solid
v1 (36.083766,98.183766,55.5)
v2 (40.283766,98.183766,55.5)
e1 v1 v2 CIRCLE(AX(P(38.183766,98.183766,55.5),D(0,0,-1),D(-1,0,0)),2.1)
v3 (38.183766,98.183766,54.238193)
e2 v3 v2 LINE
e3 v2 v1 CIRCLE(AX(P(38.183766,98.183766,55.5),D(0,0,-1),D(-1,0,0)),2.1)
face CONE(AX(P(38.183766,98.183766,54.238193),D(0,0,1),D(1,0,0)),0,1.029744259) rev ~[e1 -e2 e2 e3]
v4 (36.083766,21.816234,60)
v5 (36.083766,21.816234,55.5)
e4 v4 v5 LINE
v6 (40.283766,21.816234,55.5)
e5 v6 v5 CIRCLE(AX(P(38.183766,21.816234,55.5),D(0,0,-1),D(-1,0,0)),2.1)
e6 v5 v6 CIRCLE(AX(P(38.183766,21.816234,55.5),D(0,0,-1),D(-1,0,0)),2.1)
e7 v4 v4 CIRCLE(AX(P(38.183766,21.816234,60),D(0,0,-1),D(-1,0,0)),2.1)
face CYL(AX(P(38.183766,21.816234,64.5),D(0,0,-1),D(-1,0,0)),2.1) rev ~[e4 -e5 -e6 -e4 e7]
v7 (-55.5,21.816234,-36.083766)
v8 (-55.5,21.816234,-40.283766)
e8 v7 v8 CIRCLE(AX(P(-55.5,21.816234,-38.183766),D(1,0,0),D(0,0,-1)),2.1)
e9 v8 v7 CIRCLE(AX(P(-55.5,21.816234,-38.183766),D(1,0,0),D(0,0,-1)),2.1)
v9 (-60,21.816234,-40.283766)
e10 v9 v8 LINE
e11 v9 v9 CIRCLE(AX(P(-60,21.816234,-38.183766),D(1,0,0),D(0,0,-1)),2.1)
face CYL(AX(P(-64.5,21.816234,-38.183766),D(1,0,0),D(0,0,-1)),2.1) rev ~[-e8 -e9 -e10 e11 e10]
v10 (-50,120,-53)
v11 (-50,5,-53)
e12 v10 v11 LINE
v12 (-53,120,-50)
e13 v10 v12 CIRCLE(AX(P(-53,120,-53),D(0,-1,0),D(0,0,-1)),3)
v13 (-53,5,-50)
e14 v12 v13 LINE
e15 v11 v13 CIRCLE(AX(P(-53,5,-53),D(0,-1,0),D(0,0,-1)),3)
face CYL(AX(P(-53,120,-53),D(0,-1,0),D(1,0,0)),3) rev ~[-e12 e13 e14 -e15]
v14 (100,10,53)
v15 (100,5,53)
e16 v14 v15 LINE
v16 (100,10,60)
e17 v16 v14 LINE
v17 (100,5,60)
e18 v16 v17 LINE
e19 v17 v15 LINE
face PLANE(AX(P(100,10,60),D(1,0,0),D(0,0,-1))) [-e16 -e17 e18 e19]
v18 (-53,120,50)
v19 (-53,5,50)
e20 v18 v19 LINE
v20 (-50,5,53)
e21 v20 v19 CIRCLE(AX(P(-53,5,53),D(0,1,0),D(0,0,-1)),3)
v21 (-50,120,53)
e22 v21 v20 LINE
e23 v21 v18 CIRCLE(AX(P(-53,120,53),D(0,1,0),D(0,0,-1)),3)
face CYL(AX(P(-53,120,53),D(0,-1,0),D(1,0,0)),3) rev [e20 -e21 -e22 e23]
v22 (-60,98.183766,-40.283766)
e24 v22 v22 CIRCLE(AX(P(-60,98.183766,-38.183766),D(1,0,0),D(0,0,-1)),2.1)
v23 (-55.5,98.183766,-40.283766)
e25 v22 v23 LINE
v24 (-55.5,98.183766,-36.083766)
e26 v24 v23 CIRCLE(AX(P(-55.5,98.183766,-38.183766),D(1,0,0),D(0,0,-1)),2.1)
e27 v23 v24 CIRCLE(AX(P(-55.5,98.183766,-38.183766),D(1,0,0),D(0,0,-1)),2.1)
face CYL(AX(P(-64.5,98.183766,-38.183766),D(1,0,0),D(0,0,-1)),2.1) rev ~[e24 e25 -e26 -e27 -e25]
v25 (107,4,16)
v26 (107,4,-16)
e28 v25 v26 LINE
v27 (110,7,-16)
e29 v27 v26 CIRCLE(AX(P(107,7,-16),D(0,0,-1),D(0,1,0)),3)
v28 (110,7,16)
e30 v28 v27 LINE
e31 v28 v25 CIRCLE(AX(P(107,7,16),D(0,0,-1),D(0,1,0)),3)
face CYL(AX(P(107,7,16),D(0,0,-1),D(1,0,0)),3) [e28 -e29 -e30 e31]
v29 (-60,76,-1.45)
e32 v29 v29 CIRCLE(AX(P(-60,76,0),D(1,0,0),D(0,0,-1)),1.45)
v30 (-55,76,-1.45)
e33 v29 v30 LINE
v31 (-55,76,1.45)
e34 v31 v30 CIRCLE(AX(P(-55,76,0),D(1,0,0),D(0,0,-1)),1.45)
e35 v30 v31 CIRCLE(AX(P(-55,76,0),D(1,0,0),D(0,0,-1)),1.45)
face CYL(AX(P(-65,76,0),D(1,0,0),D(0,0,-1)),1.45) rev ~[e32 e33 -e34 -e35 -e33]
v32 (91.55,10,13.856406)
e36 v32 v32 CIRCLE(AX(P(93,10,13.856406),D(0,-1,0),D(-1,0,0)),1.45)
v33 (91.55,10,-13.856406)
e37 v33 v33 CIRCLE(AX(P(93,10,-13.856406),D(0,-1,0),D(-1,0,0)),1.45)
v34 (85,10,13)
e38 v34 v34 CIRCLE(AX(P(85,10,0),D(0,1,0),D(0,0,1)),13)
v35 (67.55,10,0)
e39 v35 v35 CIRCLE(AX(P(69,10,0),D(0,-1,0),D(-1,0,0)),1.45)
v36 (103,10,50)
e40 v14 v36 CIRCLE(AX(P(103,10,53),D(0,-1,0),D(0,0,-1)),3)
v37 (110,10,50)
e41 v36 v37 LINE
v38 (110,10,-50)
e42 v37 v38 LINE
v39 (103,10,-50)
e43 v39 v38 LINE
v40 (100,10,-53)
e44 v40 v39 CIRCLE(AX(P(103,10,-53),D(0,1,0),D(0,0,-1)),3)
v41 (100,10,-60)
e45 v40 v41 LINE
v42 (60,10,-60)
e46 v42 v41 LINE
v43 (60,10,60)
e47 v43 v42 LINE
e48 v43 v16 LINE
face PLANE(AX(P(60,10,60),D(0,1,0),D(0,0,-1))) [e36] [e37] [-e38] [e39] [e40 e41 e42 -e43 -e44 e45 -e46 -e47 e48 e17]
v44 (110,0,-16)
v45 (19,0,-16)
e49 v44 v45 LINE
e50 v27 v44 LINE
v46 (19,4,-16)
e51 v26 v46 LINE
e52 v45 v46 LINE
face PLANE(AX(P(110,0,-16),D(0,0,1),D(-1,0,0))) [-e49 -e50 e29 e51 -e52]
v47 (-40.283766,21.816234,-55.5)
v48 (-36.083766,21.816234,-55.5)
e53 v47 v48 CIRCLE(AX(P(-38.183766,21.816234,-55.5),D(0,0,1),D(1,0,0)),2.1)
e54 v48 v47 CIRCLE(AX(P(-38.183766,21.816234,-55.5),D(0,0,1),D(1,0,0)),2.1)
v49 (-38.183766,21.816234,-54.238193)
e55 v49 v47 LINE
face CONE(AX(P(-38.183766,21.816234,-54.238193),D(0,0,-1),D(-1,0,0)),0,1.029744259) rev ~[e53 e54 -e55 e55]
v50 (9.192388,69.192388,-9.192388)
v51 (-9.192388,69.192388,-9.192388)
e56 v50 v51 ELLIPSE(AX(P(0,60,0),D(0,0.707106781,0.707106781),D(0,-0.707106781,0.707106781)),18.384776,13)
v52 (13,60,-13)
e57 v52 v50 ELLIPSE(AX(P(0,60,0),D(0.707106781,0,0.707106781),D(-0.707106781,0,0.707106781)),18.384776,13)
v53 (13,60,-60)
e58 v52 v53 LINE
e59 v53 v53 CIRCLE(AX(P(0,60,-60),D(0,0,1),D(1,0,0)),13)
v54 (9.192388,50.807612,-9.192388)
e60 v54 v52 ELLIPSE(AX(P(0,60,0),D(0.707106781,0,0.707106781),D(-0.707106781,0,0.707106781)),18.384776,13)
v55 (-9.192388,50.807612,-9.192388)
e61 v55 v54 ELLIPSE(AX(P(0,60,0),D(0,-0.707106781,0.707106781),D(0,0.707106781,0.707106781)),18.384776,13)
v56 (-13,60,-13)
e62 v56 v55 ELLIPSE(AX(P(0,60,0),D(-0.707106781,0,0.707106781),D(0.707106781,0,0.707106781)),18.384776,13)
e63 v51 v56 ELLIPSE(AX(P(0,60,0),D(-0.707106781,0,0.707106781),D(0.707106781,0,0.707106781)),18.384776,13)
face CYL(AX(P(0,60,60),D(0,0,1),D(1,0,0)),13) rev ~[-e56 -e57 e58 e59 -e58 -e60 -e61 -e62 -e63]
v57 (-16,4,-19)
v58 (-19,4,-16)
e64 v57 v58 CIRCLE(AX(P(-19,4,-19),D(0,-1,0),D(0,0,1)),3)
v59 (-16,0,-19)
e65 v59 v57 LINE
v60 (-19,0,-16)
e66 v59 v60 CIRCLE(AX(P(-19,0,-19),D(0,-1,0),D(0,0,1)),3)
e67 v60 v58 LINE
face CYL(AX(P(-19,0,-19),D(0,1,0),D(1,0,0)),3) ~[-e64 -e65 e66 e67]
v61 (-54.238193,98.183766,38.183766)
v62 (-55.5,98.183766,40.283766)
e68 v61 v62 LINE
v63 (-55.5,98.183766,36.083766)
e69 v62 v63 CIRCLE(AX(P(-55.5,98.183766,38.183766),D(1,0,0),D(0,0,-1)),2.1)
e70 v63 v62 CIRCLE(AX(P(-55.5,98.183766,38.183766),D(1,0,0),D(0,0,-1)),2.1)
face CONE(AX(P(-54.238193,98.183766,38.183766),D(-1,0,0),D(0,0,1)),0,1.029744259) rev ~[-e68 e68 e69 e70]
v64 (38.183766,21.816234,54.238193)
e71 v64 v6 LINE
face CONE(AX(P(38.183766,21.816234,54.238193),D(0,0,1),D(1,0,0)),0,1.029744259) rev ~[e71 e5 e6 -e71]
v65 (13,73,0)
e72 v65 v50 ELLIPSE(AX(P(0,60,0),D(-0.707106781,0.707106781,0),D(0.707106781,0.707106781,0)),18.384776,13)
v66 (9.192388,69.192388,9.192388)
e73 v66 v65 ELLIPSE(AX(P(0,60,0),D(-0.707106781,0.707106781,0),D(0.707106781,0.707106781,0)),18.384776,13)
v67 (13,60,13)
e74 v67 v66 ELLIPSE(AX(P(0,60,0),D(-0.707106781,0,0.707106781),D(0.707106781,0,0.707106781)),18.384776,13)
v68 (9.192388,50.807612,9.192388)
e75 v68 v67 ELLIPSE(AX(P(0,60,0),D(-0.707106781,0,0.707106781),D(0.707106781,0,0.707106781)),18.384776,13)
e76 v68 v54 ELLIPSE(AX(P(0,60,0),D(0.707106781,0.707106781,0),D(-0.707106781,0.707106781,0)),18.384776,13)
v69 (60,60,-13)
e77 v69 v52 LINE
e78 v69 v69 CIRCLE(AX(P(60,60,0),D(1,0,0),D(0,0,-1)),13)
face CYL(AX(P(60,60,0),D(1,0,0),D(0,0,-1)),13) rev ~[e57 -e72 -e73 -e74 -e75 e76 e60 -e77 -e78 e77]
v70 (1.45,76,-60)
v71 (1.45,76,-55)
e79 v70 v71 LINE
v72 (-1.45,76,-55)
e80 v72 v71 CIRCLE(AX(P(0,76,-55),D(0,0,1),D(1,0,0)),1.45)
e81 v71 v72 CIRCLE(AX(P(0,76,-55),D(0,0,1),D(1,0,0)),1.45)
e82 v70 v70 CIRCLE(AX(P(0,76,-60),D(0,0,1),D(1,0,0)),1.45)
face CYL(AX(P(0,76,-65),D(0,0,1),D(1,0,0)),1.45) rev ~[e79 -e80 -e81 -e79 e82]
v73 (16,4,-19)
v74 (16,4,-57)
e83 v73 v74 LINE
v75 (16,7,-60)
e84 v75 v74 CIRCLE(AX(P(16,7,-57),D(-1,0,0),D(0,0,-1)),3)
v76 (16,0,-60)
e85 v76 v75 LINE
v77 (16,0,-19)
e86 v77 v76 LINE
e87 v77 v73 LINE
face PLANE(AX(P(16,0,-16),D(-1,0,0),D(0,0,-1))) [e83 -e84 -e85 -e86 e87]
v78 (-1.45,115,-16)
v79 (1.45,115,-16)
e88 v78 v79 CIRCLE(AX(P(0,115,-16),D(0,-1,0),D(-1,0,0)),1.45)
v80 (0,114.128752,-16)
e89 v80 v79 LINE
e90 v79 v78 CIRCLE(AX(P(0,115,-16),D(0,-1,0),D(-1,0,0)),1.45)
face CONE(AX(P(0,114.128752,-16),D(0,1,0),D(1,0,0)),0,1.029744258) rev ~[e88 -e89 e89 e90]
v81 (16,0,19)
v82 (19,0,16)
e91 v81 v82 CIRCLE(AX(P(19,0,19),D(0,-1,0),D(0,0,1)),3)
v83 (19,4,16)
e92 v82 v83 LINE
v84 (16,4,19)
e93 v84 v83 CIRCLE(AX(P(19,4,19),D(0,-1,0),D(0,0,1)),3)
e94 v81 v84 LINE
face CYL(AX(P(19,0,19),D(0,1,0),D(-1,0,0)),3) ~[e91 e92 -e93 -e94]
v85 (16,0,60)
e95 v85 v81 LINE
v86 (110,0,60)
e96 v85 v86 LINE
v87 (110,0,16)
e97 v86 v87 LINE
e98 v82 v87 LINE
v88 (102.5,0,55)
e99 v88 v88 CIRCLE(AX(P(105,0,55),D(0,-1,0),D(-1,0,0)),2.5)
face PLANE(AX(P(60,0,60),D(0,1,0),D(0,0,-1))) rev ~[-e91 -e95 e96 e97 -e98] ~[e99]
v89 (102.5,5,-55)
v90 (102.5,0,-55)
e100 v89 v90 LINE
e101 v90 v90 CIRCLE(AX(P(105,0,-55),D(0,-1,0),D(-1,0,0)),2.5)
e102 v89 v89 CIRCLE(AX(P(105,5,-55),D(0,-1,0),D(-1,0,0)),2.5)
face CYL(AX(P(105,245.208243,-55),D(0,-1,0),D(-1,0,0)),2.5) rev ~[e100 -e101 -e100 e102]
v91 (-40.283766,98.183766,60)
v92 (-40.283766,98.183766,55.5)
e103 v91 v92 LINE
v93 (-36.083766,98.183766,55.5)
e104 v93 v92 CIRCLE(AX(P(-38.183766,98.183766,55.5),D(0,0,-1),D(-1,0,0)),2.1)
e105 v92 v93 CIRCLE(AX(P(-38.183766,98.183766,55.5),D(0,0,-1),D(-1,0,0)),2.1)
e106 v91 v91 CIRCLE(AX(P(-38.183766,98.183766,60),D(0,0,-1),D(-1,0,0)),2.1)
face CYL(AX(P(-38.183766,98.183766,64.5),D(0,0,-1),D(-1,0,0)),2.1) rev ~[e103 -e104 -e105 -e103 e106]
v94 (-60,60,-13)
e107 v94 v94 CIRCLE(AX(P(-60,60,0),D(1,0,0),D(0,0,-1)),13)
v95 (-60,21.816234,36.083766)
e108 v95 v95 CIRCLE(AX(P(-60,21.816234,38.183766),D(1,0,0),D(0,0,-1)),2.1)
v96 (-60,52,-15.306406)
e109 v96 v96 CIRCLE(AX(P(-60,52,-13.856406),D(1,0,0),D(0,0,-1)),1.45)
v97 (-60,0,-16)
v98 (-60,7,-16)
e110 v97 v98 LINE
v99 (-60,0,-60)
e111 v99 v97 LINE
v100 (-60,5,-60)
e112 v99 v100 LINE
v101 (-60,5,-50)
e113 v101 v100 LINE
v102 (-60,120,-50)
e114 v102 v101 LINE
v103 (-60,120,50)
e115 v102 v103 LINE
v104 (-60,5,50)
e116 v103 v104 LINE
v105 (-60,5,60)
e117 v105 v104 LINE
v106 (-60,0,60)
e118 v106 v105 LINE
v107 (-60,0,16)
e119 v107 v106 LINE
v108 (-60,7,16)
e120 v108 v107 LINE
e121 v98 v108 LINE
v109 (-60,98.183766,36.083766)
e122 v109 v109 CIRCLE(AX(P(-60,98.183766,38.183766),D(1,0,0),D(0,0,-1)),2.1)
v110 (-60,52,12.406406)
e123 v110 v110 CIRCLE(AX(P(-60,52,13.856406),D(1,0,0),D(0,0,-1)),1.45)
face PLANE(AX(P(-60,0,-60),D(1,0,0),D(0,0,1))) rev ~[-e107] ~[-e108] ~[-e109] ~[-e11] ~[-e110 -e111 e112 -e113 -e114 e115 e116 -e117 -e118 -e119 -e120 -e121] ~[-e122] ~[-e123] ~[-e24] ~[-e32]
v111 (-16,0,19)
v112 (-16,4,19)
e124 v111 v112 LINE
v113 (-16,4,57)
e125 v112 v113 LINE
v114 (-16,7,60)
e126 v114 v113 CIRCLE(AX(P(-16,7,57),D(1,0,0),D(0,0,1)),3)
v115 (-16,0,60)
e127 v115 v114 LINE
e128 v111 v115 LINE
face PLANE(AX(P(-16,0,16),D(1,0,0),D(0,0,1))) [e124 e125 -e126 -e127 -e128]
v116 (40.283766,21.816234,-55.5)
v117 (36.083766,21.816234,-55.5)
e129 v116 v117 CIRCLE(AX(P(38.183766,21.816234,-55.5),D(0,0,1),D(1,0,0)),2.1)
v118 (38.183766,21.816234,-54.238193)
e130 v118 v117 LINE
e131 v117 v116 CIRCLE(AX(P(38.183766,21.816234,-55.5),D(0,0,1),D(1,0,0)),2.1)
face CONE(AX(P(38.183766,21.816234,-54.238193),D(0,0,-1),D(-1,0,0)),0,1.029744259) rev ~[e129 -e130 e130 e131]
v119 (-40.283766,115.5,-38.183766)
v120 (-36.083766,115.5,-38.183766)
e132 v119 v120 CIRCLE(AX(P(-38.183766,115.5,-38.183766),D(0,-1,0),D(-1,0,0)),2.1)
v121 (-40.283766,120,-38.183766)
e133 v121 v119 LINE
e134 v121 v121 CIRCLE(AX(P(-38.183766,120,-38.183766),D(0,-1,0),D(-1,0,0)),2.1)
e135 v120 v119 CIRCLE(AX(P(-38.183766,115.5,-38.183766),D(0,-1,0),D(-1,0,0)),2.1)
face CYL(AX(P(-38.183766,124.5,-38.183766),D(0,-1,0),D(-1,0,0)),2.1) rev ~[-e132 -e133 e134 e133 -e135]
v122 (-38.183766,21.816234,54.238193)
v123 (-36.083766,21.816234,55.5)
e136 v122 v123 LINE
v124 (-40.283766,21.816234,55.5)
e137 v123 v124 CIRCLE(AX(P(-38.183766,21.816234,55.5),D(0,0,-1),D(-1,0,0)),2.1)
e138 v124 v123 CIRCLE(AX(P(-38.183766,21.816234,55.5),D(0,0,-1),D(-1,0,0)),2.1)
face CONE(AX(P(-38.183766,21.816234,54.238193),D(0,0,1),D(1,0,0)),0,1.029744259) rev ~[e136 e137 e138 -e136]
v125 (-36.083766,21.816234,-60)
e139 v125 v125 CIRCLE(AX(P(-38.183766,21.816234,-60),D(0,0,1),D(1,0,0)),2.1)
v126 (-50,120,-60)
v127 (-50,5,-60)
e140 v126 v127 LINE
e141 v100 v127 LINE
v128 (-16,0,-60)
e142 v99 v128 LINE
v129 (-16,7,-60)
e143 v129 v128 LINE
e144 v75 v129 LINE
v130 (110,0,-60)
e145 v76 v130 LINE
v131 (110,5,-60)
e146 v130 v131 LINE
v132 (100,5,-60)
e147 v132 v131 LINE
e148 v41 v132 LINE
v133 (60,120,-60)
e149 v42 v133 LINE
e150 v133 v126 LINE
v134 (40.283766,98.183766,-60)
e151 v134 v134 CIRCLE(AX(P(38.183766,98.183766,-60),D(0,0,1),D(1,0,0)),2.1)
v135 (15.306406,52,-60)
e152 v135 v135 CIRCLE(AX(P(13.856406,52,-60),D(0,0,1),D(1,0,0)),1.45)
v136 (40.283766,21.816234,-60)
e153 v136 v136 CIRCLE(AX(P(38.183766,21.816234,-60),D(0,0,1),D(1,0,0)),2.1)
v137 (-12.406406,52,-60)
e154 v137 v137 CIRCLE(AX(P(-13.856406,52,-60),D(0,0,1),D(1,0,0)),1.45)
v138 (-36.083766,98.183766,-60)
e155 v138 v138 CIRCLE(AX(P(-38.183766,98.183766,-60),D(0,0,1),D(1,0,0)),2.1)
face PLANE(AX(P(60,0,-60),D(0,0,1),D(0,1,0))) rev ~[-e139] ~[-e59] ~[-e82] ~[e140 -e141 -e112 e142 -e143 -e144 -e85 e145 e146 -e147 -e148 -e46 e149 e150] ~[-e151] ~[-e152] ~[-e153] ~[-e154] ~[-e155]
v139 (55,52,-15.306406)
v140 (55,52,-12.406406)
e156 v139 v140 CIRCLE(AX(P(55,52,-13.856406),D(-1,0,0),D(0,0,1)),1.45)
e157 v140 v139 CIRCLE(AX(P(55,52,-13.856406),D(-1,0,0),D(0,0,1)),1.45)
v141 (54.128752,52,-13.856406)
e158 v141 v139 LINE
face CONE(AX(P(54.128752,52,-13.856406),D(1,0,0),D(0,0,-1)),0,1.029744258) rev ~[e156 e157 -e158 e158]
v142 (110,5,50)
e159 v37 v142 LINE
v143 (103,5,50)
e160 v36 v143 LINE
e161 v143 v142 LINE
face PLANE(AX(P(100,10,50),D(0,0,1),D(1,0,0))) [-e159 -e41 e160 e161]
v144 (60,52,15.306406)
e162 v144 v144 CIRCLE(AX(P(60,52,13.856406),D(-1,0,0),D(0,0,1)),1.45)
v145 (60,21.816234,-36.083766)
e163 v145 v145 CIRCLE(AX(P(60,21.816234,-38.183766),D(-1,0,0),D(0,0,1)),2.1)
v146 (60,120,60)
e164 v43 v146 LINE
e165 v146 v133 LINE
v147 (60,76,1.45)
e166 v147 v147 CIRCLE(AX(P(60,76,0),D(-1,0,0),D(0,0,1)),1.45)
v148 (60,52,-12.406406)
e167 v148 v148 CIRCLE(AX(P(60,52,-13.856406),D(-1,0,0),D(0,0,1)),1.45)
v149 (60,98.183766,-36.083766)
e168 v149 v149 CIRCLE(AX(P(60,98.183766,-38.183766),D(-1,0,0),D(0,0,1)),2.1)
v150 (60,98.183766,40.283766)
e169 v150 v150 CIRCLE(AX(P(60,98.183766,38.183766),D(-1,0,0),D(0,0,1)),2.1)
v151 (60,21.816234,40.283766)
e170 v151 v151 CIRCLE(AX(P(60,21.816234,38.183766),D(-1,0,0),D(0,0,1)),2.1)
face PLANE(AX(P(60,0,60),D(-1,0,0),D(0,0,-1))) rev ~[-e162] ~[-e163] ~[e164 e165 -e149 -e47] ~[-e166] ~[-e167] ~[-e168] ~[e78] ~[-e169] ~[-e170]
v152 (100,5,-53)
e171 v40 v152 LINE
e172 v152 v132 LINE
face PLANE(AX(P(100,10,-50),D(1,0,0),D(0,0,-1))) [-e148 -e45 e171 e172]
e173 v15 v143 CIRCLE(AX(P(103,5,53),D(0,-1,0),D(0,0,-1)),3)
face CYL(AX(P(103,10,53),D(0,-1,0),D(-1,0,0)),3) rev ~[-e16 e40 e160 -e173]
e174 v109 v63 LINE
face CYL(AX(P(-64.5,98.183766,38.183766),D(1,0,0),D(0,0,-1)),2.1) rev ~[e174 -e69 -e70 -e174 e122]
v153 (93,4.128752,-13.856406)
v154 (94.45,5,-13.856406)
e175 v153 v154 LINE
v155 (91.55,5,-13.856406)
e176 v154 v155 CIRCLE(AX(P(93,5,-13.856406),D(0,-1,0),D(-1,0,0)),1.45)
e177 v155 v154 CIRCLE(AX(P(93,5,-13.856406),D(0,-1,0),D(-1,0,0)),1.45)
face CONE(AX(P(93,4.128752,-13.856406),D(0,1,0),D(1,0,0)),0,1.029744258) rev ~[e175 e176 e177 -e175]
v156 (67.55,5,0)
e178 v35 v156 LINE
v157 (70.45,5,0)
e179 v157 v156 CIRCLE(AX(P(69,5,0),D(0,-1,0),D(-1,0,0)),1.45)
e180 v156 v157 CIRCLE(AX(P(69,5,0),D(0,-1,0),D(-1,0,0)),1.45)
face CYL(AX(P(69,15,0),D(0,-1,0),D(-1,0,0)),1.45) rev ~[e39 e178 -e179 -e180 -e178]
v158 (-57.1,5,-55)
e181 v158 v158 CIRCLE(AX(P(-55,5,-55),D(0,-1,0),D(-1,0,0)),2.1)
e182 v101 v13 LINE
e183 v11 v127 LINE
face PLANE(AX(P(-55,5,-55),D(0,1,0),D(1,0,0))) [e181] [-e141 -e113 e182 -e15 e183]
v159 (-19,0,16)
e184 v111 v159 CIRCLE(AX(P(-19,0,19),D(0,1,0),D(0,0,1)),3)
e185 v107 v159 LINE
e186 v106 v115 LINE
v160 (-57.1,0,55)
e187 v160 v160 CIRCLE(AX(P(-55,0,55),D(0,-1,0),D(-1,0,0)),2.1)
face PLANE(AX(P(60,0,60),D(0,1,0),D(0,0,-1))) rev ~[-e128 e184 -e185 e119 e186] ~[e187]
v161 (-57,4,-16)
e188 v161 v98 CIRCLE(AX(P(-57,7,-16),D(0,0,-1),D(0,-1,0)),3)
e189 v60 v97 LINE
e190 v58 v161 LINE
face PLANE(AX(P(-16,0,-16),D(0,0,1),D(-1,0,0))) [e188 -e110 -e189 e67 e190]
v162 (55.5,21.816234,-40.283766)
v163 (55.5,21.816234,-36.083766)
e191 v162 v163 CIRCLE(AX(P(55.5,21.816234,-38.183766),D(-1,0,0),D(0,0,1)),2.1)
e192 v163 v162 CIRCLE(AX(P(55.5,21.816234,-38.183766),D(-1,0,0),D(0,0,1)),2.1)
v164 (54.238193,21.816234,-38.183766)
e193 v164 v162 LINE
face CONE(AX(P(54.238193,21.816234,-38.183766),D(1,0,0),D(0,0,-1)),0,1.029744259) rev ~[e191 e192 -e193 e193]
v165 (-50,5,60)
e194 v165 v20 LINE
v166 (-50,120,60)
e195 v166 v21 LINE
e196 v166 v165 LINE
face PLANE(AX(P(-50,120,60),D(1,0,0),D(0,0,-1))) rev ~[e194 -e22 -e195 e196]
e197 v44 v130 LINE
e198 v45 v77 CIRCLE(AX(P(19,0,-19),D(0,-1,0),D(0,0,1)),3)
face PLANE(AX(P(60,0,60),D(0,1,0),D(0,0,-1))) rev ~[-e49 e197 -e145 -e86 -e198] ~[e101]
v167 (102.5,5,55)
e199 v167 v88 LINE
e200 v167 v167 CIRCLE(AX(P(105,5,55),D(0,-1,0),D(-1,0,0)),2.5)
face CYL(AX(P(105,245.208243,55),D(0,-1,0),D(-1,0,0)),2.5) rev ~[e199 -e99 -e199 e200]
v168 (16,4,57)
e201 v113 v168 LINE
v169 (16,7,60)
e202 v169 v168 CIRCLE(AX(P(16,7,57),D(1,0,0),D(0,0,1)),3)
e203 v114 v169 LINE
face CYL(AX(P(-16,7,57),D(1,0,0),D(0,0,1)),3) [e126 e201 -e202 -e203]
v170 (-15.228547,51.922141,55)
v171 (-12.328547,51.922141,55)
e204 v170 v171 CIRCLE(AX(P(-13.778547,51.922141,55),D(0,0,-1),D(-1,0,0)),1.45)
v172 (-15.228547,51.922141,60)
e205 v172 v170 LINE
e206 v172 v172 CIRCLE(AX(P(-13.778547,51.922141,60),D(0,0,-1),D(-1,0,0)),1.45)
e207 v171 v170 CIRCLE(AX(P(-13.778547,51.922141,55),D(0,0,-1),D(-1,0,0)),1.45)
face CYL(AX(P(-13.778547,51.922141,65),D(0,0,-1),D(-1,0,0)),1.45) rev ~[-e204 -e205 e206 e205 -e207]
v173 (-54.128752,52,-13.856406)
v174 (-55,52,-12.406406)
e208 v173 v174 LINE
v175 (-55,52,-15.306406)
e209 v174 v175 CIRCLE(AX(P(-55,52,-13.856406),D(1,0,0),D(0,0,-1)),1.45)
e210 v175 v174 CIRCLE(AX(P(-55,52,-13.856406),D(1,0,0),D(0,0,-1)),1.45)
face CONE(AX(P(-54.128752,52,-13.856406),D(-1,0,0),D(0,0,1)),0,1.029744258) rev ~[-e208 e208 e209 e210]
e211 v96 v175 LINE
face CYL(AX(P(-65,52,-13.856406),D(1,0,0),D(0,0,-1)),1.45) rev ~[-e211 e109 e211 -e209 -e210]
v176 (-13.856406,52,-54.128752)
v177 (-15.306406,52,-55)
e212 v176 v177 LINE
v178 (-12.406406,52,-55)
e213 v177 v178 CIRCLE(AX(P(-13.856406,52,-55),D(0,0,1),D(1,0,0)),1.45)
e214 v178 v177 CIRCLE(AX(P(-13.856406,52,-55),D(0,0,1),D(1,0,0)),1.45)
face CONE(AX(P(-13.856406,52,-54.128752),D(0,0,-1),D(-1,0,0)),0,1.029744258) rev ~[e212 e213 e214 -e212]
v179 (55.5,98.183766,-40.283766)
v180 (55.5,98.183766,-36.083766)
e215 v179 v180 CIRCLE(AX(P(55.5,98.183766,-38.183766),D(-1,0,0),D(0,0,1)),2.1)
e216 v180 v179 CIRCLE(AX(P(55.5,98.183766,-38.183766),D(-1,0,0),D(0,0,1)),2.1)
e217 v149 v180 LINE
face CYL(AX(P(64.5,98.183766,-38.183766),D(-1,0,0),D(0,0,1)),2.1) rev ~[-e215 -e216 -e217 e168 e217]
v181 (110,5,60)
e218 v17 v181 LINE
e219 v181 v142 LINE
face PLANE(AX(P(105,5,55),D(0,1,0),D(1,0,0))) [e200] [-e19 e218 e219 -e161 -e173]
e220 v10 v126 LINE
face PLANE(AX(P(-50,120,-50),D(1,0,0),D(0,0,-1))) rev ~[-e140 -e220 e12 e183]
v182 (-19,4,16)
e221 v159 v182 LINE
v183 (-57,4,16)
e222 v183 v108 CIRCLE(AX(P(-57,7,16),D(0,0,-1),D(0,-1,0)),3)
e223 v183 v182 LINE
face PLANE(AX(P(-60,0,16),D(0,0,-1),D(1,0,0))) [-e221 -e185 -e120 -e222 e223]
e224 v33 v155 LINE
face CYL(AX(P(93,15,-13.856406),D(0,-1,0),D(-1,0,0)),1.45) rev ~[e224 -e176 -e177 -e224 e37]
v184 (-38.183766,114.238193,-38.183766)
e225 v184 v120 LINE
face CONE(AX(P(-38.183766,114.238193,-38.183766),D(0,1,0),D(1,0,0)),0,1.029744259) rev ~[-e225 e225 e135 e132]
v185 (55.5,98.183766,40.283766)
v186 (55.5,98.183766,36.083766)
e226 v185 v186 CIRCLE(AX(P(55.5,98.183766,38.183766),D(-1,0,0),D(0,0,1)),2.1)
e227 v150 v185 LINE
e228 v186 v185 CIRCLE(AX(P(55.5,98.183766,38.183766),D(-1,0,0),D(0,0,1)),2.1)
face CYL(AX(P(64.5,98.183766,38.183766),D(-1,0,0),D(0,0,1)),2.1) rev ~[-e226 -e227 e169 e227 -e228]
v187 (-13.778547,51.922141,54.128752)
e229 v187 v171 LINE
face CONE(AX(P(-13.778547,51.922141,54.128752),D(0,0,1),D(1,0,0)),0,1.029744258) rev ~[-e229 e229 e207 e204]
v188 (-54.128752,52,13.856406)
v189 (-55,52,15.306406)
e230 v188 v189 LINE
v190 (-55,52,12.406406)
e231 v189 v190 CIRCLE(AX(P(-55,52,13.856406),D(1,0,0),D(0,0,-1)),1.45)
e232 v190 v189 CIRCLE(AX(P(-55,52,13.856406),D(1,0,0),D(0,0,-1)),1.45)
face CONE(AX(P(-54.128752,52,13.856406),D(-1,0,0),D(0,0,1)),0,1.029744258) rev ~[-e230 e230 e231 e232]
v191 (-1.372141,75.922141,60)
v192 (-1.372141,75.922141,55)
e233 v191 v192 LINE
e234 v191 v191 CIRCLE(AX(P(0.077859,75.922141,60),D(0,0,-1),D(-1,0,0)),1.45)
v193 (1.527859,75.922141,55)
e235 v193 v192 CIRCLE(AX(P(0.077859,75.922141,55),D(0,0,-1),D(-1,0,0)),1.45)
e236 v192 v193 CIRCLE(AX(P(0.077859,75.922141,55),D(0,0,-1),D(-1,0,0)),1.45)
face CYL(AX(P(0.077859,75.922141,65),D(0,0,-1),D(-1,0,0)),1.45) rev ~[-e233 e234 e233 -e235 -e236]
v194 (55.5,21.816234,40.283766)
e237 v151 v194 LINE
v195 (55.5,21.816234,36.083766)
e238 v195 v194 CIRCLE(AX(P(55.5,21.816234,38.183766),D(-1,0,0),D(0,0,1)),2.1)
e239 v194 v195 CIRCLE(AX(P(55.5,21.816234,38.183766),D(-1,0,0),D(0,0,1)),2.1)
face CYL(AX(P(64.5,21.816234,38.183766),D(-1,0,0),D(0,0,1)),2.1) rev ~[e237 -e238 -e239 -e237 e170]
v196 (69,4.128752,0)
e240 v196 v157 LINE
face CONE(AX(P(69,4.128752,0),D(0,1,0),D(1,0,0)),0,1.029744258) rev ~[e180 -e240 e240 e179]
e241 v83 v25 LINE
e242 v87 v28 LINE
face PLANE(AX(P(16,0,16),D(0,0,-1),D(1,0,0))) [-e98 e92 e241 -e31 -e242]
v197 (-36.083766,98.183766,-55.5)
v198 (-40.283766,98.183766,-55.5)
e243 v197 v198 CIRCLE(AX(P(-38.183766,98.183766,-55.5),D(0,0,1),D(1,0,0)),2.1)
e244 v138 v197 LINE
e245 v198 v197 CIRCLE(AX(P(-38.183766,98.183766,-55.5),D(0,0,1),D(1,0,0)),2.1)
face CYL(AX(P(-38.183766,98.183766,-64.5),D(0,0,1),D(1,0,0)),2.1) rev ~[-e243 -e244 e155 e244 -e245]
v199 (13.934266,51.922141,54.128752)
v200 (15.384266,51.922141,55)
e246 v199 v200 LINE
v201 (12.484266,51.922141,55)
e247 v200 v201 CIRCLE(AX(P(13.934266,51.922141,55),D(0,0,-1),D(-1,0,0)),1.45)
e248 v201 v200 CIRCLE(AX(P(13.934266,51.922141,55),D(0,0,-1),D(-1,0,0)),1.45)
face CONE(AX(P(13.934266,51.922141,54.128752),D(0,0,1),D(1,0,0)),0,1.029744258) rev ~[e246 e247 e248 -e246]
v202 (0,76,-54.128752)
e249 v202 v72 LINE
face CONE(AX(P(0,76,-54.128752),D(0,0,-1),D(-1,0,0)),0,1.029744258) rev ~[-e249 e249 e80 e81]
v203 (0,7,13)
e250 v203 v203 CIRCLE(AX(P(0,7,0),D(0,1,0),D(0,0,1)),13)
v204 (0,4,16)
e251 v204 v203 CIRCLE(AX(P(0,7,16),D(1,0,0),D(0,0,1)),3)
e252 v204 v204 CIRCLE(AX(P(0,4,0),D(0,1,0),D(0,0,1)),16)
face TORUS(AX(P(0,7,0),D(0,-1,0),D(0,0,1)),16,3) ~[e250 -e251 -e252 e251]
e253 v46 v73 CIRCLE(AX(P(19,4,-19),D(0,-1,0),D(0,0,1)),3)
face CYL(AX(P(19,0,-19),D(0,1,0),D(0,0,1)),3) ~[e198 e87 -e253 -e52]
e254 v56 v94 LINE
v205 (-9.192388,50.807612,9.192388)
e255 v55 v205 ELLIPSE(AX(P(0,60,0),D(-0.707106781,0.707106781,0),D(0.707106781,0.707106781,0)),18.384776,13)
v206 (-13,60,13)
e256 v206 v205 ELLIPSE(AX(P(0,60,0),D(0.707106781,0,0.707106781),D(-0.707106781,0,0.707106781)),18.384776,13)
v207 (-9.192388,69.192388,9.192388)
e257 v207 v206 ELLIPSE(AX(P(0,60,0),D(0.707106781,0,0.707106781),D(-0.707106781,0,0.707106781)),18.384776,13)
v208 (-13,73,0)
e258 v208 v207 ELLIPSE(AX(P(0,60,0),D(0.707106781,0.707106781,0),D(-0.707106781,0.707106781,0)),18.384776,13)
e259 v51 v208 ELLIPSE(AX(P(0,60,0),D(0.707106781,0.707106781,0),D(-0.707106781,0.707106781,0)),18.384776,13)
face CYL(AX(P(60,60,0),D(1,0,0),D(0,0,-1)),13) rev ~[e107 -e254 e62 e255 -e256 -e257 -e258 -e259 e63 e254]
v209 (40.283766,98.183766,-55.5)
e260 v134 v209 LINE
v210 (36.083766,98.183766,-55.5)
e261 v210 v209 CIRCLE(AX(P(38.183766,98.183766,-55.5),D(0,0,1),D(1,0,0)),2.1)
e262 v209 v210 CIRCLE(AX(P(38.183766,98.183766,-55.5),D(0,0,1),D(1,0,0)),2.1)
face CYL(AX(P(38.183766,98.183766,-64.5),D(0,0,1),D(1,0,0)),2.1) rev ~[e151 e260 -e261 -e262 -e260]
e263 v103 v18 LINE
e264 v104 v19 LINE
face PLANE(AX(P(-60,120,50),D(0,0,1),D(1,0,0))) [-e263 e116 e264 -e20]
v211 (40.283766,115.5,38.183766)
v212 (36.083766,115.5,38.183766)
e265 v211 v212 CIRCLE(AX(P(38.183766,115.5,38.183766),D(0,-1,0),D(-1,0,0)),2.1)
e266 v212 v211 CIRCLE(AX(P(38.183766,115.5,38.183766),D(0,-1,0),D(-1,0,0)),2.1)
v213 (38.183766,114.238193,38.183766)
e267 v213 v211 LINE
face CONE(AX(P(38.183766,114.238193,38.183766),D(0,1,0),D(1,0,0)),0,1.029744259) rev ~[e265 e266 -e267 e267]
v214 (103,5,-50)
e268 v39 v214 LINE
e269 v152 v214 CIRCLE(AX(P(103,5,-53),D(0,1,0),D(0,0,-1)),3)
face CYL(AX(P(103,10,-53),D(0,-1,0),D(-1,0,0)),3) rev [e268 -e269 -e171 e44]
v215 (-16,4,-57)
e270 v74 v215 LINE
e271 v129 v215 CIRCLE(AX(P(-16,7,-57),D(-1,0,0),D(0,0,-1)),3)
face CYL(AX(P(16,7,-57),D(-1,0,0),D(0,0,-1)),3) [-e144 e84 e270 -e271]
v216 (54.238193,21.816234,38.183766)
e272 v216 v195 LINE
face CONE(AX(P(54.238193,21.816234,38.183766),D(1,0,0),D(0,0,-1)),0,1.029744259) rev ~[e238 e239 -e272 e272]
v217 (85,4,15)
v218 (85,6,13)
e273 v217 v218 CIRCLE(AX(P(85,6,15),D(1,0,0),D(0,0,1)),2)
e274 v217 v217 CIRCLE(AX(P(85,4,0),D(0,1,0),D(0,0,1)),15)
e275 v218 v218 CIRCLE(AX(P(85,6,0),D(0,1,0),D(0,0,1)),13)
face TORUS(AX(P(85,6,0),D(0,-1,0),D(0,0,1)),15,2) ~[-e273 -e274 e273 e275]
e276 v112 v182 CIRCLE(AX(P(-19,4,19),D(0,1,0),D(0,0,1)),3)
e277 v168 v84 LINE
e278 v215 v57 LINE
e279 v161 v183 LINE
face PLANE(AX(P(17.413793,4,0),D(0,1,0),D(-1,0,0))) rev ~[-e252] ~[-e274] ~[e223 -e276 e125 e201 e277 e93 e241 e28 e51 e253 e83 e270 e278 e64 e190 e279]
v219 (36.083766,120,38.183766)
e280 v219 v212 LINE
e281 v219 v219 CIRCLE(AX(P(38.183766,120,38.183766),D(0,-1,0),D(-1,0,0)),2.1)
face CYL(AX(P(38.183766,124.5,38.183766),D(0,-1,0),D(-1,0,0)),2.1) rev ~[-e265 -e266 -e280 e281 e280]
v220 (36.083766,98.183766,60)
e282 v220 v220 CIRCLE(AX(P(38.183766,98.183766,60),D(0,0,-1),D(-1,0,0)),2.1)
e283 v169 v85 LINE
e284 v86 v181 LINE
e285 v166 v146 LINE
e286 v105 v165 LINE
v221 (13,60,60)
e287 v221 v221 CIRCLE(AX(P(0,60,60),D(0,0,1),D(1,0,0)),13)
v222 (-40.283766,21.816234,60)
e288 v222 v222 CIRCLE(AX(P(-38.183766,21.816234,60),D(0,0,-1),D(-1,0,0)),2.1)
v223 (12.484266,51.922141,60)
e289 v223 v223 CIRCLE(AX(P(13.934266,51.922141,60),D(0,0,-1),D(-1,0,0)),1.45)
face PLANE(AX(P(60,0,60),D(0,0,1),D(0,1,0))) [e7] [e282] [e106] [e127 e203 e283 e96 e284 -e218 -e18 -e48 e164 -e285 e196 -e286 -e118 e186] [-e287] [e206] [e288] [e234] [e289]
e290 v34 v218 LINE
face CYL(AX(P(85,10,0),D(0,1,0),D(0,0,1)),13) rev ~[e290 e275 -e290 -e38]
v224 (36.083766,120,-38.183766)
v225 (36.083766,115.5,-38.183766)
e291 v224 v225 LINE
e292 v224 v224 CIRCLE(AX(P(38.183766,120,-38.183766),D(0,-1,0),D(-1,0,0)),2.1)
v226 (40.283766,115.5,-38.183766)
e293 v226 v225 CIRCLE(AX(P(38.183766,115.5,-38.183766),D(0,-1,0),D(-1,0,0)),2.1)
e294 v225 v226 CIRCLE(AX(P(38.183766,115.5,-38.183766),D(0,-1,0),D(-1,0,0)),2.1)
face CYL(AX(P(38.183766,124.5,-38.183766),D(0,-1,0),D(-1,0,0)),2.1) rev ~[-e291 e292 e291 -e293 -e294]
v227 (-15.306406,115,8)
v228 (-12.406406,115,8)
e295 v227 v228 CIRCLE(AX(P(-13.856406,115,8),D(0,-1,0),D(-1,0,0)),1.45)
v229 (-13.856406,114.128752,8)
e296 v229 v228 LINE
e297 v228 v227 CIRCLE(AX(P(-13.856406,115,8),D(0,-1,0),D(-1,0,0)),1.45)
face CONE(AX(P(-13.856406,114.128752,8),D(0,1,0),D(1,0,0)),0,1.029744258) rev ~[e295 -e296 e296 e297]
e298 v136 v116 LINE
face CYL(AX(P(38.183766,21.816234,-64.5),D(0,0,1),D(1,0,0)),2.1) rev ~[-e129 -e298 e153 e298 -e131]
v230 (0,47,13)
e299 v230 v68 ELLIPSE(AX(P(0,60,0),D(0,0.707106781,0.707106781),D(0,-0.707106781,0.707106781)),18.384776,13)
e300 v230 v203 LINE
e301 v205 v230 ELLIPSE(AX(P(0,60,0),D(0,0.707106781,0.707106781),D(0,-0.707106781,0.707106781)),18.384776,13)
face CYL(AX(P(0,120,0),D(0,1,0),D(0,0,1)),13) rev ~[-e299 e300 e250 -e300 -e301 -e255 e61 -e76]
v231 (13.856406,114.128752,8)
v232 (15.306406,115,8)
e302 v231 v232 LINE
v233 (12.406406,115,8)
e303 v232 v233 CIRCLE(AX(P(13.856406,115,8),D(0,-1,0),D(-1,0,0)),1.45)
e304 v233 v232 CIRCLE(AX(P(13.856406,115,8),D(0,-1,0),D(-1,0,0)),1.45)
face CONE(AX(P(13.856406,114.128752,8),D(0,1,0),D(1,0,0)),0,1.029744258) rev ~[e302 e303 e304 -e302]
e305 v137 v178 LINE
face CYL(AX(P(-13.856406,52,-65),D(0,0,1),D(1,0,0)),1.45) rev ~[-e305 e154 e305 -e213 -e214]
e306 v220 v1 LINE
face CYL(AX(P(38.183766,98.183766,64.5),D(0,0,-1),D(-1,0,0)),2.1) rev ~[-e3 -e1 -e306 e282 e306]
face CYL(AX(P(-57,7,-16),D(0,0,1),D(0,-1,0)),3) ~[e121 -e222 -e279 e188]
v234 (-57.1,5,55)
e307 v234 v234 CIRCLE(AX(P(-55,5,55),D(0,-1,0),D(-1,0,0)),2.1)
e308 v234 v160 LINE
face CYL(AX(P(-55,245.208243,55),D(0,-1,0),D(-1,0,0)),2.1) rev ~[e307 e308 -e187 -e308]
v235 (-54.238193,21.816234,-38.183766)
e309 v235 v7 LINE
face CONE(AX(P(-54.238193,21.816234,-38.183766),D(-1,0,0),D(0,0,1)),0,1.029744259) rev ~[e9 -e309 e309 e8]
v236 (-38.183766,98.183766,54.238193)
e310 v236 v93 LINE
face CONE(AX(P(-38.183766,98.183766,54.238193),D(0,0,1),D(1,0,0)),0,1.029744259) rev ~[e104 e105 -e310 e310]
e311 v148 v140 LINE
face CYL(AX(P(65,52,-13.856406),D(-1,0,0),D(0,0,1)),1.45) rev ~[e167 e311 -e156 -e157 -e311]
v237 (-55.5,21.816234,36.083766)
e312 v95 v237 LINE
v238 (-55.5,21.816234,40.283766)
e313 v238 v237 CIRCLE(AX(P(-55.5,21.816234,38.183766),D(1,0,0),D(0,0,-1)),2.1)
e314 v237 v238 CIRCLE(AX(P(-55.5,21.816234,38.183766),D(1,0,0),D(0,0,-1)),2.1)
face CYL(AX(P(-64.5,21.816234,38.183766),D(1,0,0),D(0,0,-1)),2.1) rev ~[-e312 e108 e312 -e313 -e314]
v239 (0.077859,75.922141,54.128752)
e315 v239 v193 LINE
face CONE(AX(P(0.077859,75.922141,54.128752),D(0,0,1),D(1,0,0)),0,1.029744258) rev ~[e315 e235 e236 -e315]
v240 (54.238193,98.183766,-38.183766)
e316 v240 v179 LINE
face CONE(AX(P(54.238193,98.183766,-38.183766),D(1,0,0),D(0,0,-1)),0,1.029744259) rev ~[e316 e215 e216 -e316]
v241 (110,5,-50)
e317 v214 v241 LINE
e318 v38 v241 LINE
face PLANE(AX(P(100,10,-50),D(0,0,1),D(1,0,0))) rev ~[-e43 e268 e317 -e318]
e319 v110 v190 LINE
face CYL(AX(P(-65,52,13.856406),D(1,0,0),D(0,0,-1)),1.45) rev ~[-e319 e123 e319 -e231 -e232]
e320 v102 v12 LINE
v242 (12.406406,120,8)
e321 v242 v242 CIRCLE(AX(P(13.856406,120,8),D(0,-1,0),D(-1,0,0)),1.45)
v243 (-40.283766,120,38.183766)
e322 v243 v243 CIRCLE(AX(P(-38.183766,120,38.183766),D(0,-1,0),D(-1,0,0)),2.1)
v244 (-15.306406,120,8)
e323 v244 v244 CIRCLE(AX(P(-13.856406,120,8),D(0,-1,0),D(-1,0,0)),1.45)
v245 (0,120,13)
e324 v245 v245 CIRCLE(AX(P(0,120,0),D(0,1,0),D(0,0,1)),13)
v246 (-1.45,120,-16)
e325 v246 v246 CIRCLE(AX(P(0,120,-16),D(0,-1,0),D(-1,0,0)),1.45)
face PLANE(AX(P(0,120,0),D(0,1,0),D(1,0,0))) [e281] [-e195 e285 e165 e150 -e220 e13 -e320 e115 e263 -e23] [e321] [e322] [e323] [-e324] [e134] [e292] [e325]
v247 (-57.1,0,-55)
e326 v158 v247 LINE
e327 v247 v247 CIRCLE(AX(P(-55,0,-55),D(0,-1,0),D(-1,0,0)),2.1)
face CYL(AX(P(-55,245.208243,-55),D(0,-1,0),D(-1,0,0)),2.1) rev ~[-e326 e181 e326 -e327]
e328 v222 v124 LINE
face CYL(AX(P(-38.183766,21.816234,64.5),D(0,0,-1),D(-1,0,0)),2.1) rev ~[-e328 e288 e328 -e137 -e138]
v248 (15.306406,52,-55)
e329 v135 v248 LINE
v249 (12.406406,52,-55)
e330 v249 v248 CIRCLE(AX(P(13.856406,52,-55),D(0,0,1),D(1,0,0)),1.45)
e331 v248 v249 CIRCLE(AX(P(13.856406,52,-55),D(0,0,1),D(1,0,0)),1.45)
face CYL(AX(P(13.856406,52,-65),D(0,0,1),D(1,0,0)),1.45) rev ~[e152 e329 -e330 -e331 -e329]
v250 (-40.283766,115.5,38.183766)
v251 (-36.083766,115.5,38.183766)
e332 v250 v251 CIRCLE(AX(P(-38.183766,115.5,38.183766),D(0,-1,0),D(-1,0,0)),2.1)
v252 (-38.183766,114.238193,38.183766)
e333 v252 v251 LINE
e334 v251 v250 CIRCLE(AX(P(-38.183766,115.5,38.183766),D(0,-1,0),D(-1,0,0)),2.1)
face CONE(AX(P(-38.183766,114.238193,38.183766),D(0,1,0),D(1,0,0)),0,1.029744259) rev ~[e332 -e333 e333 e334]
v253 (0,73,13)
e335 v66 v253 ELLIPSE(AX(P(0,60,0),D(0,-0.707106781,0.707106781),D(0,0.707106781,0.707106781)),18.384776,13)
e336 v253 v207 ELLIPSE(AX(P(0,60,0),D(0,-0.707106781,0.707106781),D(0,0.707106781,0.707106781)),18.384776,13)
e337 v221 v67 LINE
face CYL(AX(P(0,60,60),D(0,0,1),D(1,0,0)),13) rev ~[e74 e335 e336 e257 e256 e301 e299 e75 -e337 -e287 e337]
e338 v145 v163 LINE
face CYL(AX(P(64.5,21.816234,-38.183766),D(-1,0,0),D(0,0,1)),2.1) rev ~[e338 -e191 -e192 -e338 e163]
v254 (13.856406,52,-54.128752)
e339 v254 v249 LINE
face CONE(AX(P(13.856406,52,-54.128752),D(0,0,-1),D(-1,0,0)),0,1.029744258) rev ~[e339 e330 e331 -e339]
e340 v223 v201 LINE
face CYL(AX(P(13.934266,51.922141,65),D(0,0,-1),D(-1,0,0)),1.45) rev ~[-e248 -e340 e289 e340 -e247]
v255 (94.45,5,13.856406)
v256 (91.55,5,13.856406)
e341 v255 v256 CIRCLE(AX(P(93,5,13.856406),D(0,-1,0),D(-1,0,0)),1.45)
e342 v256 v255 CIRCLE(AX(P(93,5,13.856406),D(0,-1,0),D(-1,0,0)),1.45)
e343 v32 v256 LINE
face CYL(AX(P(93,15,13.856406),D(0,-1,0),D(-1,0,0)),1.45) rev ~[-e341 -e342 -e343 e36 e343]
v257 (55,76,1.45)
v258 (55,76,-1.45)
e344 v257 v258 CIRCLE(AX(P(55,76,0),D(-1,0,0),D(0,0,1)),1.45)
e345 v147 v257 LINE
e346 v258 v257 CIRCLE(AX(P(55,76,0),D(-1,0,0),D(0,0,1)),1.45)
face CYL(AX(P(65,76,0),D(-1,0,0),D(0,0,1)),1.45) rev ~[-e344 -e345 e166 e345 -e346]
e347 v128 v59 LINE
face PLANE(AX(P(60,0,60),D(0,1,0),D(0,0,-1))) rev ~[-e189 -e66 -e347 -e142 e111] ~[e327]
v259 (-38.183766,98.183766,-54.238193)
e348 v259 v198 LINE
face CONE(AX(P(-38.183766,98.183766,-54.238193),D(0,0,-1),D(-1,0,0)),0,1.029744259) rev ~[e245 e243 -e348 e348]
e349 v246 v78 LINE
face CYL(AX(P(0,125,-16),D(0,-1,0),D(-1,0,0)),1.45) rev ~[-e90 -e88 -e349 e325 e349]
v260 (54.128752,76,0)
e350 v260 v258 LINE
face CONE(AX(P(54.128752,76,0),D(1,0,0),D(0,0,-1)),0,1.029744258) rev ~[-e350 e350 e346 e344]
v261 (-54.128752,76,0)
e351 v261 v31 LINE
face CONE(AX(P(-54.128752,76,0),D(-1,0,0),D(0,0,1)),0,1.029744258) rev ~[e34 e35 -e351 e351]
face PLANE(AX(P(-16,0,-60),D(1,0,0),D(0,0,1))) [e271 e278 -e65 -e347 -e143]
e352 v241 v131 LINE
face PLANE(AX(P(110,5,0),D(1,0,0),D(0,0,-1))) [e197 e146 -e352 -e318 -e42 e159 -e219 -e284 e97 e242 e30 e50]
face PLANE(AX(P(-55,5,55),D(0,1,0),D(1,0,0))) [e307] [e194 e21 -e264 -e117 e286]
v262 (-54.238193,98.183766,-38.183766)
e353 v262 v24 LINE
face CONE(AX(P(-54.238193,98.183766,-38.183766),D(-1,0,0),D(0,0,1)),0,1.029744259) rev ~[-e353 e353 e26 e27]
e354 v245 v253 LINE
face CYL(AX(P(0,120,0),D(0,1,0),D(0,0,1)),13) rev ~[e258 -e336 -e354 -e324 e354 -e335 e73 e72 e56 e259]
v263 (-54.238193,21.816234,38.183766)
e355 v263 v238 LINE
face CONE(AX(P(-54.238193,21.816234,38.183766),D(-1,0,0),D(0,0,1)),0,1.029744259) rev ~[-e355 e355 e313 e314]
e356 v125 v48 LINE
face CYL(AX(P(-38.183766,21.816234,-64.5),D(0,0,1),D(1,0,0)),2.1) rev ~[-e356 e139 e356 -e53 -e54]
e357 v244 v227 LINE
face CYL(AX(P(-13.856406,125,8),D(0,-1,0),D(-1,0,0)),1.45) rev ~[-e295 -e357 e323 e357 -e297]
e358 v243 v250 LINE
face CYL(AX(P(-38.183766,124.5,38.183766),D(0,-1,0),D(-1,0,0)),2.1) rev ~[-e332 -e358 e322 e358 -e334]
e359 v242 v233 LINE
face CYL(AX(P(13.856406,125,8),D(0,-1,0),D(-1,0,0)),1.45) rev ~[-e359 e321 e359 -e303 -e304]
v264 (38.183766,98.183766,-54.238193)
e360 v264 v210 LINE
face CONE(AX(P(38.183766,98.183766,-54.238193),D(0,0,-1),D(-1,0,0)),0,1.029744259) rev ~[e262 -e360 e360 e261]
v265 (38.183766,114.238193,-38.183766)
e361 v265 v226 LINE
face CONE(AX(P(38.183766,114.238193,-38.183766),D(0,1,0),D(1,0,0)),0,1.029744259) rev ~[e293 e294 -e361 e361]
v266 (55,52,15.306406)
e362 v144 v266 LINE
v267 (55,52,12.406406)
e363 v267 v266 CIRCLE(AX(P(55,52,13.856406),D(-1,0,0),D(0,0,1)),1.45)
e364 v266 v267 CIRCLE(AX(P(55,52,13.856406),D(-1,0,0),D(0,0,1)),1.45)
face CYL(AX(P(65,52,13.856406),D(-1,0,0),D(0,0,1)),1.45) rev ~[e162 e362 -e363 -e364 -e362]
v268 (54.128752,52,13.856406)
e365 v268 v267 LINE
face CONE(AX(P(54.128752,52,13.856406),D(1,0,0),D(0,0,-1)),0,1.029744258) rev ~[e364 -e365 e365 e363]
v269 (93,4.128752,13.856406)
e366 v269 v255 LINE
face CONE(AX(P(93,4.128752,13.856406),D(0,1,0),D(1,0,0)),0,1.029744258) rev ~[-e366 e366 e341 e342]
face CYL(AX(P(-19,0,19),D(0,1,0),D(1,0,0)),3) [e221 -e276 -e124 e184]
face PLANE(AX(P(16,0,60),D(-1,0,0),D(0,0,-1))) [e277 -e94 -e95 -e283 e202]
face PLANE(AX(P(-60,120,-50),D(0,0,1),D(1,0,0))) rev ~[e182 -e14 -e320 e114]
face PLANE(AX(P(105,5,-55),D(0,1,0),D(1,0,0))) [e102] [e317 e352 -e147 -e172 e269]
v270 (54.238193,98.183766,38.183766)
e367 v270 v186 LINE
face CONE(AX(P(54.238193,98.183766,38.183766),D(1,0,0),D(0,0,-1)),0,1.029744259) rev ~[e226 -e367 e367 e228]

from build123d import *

# Parameters (mm, degrees)
BOSS_EXTRUDE1_DEPTH     = 120
SKETCH3_W               = 120
SKETCH3_H               = 10
BOSS_EXTRUDE2_DEPTH     = 50
SKETCH11_R              = 13
CUT_EXTRUDE3_DEPTH      = 120
CUT_EXTRUDE12_DEPTH     = 4
SKETCH10_R              = 13
CUT_EXTRUDE13_DEPTH     = 116
SKETCH13_R              = 13
CUT_EXTRUDE17_DEPTH     = 120
SKETCH17_R              = 13
CUT_EXTRUDE18_DEPTH     = 6
FILLET1_R               = 3
FILLET2_R               = 3
SKETCH19_W              = 10
SKETCH19_H              = 10
CUT_EXTRUDE20_DEPTH     = 115
FILLET3_R               = 3
SKETCH21_W              = 10
SKETCH21_H              = 10
CUT_EXTRUDE22_DEPTH     = 5
FILLET4_R               = 3
M3_5_TAPPED_HOLE1_D     = 2.9
M3_5_TAPPED_HOLE1_DEPTH = 5
M3_5_TAPPED_HOLE1_TIP   = 0.871247898
M5_TAPPED_HOLE1_D       = 4.2
M5_TAPPED_HOLE1_DEPTH   = 4.5
M5_TAPPED_HOLE1_TIP     = 1.2618073
M5_TAPPED_HOLE2_D       = 4.2
M5_TAPPED_HOLE2_DEPTH   = 4.5
M5_TAPPED_HOLE2_TIP     = 1.2618073
FILLET5_R               = 3
M5_TAPPED_HOLE3_D       = 4.2
M5_TAPPED_HOLE3_DEPTH   = 4.5
M5_TAPPED_HOLE3_TIP     = 1.2618073
M3_5_TAPPED_HOLE2_D     = 2.9
M3_5_TAPPED_HOLE2_DEPTH = 5
M3_5_TAPPED_HOLE2_TIP   = 0.871247898
M3_5_TAPPED_HOLE3_D     = 2.9
M3_5_TAPPED_HOLE3_DEPTH = 5
M3_5_TAPPED_HOLE3_TIP   = 0.871247898
M5_TAPPED_HOLE4_D       = 4.2
M5_TAPPED_HOLE4_DEPTH   = 4.5
M5_TAPPED_HOLE4_TIP     = 1.2618073
M3_5_TAPPED_HOLE5_D     = 2.9
M3_5_TAPPED_HOLE5_DEPTH = 5
M3_5_TAPPED_HOLE5_TIP   = 0.871247898
M3_5_TAPPED_HOLE6_D     = 2.9
M3_5_TAPPED_HOLE6_DEPTH = 5
M3_5_TAPPED_HOLE6_TIP   = 0.871247898
M5_TAPPED_HOLE5_D       = 4.2
M5_TAPPED_HOLE5_DEPTH   = 4.5
M5_TAPPED_HOLE5_TIP     = 1.2618073
M3_5_TAPPED_HOLE7_D     = 2.9
M3_5_TAPPED_HOLE7_DEPTH = 5
M3_5_TAPPED_HOLE7_TIP   = 0.871247898
M6_TAPPED_HOLE1_D       = 5
M5_TAPPED_HOLE7_D       = 4.2
FILLET6_R               = 2


with BuildPart() as part:
    # Sketch1 → Boss-Extrude1 (new body)
    with BuildSketch(Plane(origin=(0, 0, 0), x_dir=(1, 0, 0), z_dir=(0, 1, 0))):
        Polygon((-60, 60), (-60, -60), (60, -60), (60, 60), (0, 60), align=None)
    extrude(amount=BOSS_EXTRUDE1_DEPTH)

    # Sketch3 → Boss-Extrude2 (add)
    with BuildSketch(Plane(origin=(60, 0, 0), x_dir=(0, 0, -1), z_dir=(1, 0, 0))):
        with Locations((0, 5)):
            Rectangle(SKETCH3_W, SKETCH3_H)
    extrude(amount=BOSS_EXTRUDE2_DEPTH)

    # Sketch11 → Cut-Extrude3 (cut)
    with BuildSketch(Plane.XY.offset(60)):
        with Locations((0, 60)):
            Circle(SKETCH11_R)
    extrude(amount=-CUT_EXTRUDE3_DEPTH, mode=Mode.SUBTRACT)

    # Sketch4 → Cut-Extrude12 (cut)
    with BuildSketch(Plane.XZ):
        Polygon((16, 16), (110, 16), (110, -16), (16, -16), (16, -60), (-16, -60), (-16, -16), (-60, -16), (-60, 16), (-16, 16), (-16, 60), (16, 60), align=None)
    extrude(amount=-CUT_EXTRUDE12_DEPTH, mode=Mode.SUBTRACT)

    # Sketch10 → Cut-Extrude13 (cut)
    with BuildSketch(Plane(origin=(0, 120, 0), x_dir=(1, 0, 0), z_dir=(0, 1, 0))):
        with Locations(Location((0, 0, 0), (0, 0, 270))):
            Circle(SKETCH10_R)
    extrude(amount=-CUT_EXTRUDE13_DEPTH, mode=Mode.SUBTRACT)

    # Sketch13 → Cut-Extrude17 (cut)
    with BuildSketch(Plane(origin=(60, 0, 0), x_dir=(0, 0, -1), z_dir=(1, 0, 0))):
        with Locations((0, 60)):
            Circle(SKETCH13_R)
    extrude(amount=-CUT_EXTRUDE17_DEPTH, mode=Mode.SUBTRACT)

    # Sketch17 → Cut-Extrude18 (cut)
    with BuildSketch(Plane(origin=(0, 10, 0), x_dir=(1, 0, 0), z_dir=(0, 1, 0))):
        with Locations(Location((85, 0, 0), (0, 0, 270))):
            Circle(SKETCH17_R)
    extrude(amount=-CUT_EXTRUDE18_DEPTH, mode=Mode.SUBTRACT)

    # Fillet1
    fillet1_edges = [part.edges().sort_by_distance(p)[0] for p in [
        (16, 2, -16),
        (-16, 2, -16),
        (-16, 2, 16),
        (16, 2, 16),
    ]]
    fillet(fillet1_edges, radius=FILLET1_R)

    # Fillet2
    fillet2_edges = [part.edges().sort_by_distance(p)[0] for p in [
        (0, 4, -13),
    ]]
    fillet(fillet2_edges, radius=FILLET2_R)

    # Sketch19 → Cut-Extrude20 (cut)
    with BuildSketch(Plane(origin=(0, 120, 0), x_dir=(1, 0, 0), z_dir=(0, 1, 0))):
        with Locations((-55, 55)):
            Rectangle(SKETCH19_W, SKETCH19_H)
        with Locations((-55, -55)):
            Rectangle(SKETCH19_W, SKETCH19_H)
    extrude(amount=-CUT_EXTRUDE20_DEPTH, mode=Mode.SUBTRACT)

    # Fillet3
    fillet3_edges = [part.edges().sort_by_distance(p)[0] for p in [
        (-50, 62.5, -50),
        (-50, 62.5, 50),
    ]]
    fillet(fillet3_edges, radius=FILLET3_R)

    # Sketch21 → Cut-Extrude22 (cut)
    with BuildSketch(Plane(origin=(0, 10, 0), x_dir=(1, 0, 0), z_dir=(0, 1, 0))):
        with Locations((105, -55)):
            Rectangle(SKETCH21_W, SKETCH21_H)
        with Locations((105, 55)):
            Rectangle(SKETCH21_W, SKETCH21_H)
    extrude(amount=-CUT_EXTRUDE22_DEPTH, mode=Mode.SUBTRACT)

    # Fillet4
    fillet4_edges = [part.edges().sort_by_distance(p)[0] for p in [
        (100, 7.5, 50),
        (100, 7.5, -50),
    ]]
    fillet(fillet4_edges, radius=FILLET4_R)

    # M3.5 Tapped Hole1
    with Locations(Plane.ZY.offset(60)):
        with Locations((0, 76), (-13.856406461, 52), (13.856406461, 52)):
            Hole(M3_5_TAPPED_HOLE1_D / 2, depth=M3_5_TAPPED_HOLE1_DEPTH)
            with Locations((0, 0, -(M3_5_TAPPED_HOLE1_DEPTH + M3_5_TAPPED_HOLE1_TIP / 2))):  # 118° drill point
                Cone(0, M3_5_TAPPED_HOLE1_D / 2, M3_5_TAPPED_HOLE1_TIP, mode=Mode.SUBTRACT)

    # M5 Tapped Hole1
    with Locations(Plane(origin=(60, 0, 0), x_dir=(0, 0, -1), z_dir=(1, 0, 0))):
        with Locations((-38.183766184, 21.816233816), (38.183766184, 21.816233816), (38.183766184, 98.183766184), (-38.183766184, 98.183766184)):
            Hole(M5_TAPPED_HOLE1_D / 2, depth=M5_TAPPED_HOLE1_DEPTH)
            with Locations((0, 0, -(M5_TAPPED_HOLE1_DEPTH + M5_TAPPED_HOLE1_TIP / 2))):  # 118° drill point
                Cone(0, M5_TAPPED_HOLE1_D / 2, M5_TAPPED_HOLE1_TIP, mode=Mode.SUBTRACT)

    # M5 Tapped Hole2
    with Locations(Plane.ZY.offset(60)):
        with Locations((-38.183766184, 98.183766184), (38.183766184, 98.183766184), (-38.183766184, 21.816233816), (38.183766184, 21.816233816)):
            Hole(M5_TAPPED_HOLE2_D / 2, depth=M5_TAPPED_HOLE2_DEPTH)
            with Locations((0, 0, -(M5_TAPPED_HOLE2_DEPTH + M5_TAPPED_HOLE2_TIP / 2))):  # 118° drill point
                Cone(0, M5_TAPPED_HOLE2_D / 2, M5_TAPPED_HOLE2_TIP, mode=Mode.SUBTRACT)

    # Fillet5
    fillet5_edges = [part.edges().sort_by_distance(p)[0] for p in [
        (0, 4, 60),
        (110, 4, 0),
        (0, 4, -60),
        (-60, 4, 0),
    ]]
    fillet(fillet5_edges, radius=FILLET5_R)

    # M5 Tapped Hole3
    with Locations(Plane(origin=(0, 0, -60), x_dir=(-1, 0, 0), z_dir=(0, 0, -1))):
        with Locations((-38.183766184, 98.183766184), (38.183766184, 98.183766184), (38.183766184, 21.816233816), (-38.183766184, 21.816233816)):
            Hole(M5_TAPPED_HOLE3_D / 2, depth=M5_TAPPED_HOLE3_DEPTH)
            with Locations((0, 0, -(M5_TAPPED_HOLE3_DEPTH + M5_TAPPED_HOLE3_TIP / 2))):  # 118° drill point
                Cone(0, M5_TAPPED_HOLE3_D / 2, M5_TAPPED_HOLE3_TIP, mode=Mode.SUBTRACT)

    # M3.5 Tapped Hole2
    with Locations(Plane(origin=(0, 0, -60), x_dir=(-1, 0, 0), z_dir=(0, 0, -1))):
        with Locations((-13.856406461, 52), (0, 76), (13.856406461, 52)):
            Hole(M3_5_TAPPED_HOLE2_D / 2, depth=M3_5_TAPPED_HOLE2_DEPTH)
            with Locations((0, 0, -(M3_5_TAPPED_HOLE2_DEPTH + M3_5_TAPPED_HOLE2_TIP / 2))):  # 118° drill point
                Cone(0, M3_5_TAPPED_HOLE2_D / 2, M3_5_TAPPED_HOLE2_TIP, mode=Mode.SUBTRACT)

    # M3.5 Tapped Hole3
    with Locations(Plane(origin=(0, 120, 0), x_dir=(1, 0, 0), z_dir=(0, 1, 0))):
        with Locations((0, 16), (13.856406461, -8), (-13.856406461, -8)):
            Hole(M3_5_TAPPED_HOLE3_D / 2, depth=M3_5_TAPPED_HOLE3_DEPTH)
            with Locations((0, 0, -(M3_5_TAPPED_HOLE3_DEPTH + M3_5_TAPPED_HOLE3_TIP / 2))):  # 118° drill point
                Cone(0, M3_5_TAPPED_HOLE3_D / 2, M3_5_TAPPED_HOLE3_TIP, mode=Mode.SUBTRACT)

    # M5 Tapped Hole4
    with Locations(Plane(origin=(0, 120, 0), x_dir=(1, 0, 0), z_dir=(0, 1, 0))):
        with Locations((38.183766184, 38.183766184), (38.183766184, -38.183766184), (-38.183766184, -38.183766184), (-38.183766184, 38.183766184)):
            Hole(M5_TAPPED_HOLE4_D / 2, depth=M5_TAPPED_HOLE4_DEPTH)
            with Locations((0, 0, -(M5_TAPPED_HOLE4_DEPTH + M5_TAPPED_HOLE4_TIP / 2))):  # 118° drill point
                Cone(0, M5_TAPPED_HOLE4_D / 2, M5_TAPPED_HOLE4_TIP, mode=Mode.SUBTRACT)

    # M3.5 Tapped Hole5
    with Locations(Plane(origin=(60, 0, 0), x_dir=(0, 0, -1), z_dir=(1, 0, 0))):
        with Locations((-13.856406461, 52), (13.856406461, 52), (0, 76)):
            Hole(M3_5_TAPPED_HOLE5_D / 2, depth=M3_5_TAPPED_HOLE5_DEPTH)
            with Locations((0, 0, -(M3_5_TAPPED_HOLE5_DEPTH + M3_5_TAPPED_HOLE5_TIP / 2))):  # 118° drill point
                Cone(0, M3_5_TAPPED_HOLE5_D / 2, M3_5_TAPPED_HOLE5_TIP, mode=Mode.SUBTRACT)

    # M3.5 Tapped Hole6
    with Locations(Plane.XY.offset(60)):
        with Locations((0.077859326, 75.922140674), (13.934265787, 51.922140674), (-13.778547134, 51.922140674)):
            Hole(M3_5_TAPPED_HOLE6_D / 2, depth=M3_5_TAPPED_HOLE6_DEPTH)
            with Locations((0, 0, -(M3_5_TAPPED_HOLE6_DEPTH + M3_5_TAPPED_HOLE6_TIP / 2))):  # 118° drill point
                Cone(0, M3_5_TAPPED_HOLE6_D / 2, M3_5_TAPPED_HOLE6_TIP, mode=Mode.SUBTRACT)

    # M5 Tapped Hole5
    with Locations(Plane.XY.offset(60)):
        with Locations((-38.183766184, 98.183766184), (38.183766184, 98.183766184), (38.183766184, 21.816233816), (-38.183766184, 21.816233816)):
            Hole(M5_TAPPED_HOLE5_D / 2, depth=M5_TAPPED_HOLE5_DEPTH)
            with Locations((0, 0, -(M5_TAPPED_HOLE5_DEPTH + M5_TAPPED_HOLE5_TIP / 2))):  # 118° drill point
                Cone(0, M5_TAPPED_HOLE5_D / 2, M5_TAPPED_HOLE5_TIP, mode=Mode.SUBTRACT)

    # M3.5 Tapped Hole7
    with Locations(Plane(origin=(0, 10, 0), x_dir=(1, 0, 0), z_dir=(0, 1, 0))):
        with Locations((93, -13.856406461), (69, 0), (93, 13.856406461)):
            Hole(M3_5_TAPPED_HOLE7_D / 2, depth=M3_5_TAPPED_HOLE7_DEPTH)
            with Locations((0, 0, -(M3_5_TAPPED_HOLE7_DEPTH + M3_5_TAPPED_HOLE7_TIP / 2))):  # 118° drill point
                Cone(0, M3_5_TAPPED_HOLE7_D / 2, M3_5_TAPPED_HOLE7_TIP, mode=Mode.SUBTRACT)

    # M6 Tapped Hole1 (through all)
    with Locations(Plane(origin=(0, 5, 0), x_dir=(1, 0, 0), z_dir=(0, 1, 0))):
        with Locations((105, -55), (105, 55)):
            Hole(M6_TAPPED_HOLE1_D / 2)

    # M5 Tapped Hole7 (through all)
    with Locations(Plane(origin=(0, 5, 0), x_dir=(1, 0, 0), z_dir=(0, 1, 0))):
        with Locations((-55, 55), (-55, -55)):
            Hole(M5_TAPPED_HOLE7_D / 2)

    # Fillet6
    fillet6_edges = [part.edges().sort_by_distance(p)[0] for p in [
        (85, 4, -13),
    ]]
    fillet(fillet6_edges, radius=FILLET6_R)


solid = part.part
